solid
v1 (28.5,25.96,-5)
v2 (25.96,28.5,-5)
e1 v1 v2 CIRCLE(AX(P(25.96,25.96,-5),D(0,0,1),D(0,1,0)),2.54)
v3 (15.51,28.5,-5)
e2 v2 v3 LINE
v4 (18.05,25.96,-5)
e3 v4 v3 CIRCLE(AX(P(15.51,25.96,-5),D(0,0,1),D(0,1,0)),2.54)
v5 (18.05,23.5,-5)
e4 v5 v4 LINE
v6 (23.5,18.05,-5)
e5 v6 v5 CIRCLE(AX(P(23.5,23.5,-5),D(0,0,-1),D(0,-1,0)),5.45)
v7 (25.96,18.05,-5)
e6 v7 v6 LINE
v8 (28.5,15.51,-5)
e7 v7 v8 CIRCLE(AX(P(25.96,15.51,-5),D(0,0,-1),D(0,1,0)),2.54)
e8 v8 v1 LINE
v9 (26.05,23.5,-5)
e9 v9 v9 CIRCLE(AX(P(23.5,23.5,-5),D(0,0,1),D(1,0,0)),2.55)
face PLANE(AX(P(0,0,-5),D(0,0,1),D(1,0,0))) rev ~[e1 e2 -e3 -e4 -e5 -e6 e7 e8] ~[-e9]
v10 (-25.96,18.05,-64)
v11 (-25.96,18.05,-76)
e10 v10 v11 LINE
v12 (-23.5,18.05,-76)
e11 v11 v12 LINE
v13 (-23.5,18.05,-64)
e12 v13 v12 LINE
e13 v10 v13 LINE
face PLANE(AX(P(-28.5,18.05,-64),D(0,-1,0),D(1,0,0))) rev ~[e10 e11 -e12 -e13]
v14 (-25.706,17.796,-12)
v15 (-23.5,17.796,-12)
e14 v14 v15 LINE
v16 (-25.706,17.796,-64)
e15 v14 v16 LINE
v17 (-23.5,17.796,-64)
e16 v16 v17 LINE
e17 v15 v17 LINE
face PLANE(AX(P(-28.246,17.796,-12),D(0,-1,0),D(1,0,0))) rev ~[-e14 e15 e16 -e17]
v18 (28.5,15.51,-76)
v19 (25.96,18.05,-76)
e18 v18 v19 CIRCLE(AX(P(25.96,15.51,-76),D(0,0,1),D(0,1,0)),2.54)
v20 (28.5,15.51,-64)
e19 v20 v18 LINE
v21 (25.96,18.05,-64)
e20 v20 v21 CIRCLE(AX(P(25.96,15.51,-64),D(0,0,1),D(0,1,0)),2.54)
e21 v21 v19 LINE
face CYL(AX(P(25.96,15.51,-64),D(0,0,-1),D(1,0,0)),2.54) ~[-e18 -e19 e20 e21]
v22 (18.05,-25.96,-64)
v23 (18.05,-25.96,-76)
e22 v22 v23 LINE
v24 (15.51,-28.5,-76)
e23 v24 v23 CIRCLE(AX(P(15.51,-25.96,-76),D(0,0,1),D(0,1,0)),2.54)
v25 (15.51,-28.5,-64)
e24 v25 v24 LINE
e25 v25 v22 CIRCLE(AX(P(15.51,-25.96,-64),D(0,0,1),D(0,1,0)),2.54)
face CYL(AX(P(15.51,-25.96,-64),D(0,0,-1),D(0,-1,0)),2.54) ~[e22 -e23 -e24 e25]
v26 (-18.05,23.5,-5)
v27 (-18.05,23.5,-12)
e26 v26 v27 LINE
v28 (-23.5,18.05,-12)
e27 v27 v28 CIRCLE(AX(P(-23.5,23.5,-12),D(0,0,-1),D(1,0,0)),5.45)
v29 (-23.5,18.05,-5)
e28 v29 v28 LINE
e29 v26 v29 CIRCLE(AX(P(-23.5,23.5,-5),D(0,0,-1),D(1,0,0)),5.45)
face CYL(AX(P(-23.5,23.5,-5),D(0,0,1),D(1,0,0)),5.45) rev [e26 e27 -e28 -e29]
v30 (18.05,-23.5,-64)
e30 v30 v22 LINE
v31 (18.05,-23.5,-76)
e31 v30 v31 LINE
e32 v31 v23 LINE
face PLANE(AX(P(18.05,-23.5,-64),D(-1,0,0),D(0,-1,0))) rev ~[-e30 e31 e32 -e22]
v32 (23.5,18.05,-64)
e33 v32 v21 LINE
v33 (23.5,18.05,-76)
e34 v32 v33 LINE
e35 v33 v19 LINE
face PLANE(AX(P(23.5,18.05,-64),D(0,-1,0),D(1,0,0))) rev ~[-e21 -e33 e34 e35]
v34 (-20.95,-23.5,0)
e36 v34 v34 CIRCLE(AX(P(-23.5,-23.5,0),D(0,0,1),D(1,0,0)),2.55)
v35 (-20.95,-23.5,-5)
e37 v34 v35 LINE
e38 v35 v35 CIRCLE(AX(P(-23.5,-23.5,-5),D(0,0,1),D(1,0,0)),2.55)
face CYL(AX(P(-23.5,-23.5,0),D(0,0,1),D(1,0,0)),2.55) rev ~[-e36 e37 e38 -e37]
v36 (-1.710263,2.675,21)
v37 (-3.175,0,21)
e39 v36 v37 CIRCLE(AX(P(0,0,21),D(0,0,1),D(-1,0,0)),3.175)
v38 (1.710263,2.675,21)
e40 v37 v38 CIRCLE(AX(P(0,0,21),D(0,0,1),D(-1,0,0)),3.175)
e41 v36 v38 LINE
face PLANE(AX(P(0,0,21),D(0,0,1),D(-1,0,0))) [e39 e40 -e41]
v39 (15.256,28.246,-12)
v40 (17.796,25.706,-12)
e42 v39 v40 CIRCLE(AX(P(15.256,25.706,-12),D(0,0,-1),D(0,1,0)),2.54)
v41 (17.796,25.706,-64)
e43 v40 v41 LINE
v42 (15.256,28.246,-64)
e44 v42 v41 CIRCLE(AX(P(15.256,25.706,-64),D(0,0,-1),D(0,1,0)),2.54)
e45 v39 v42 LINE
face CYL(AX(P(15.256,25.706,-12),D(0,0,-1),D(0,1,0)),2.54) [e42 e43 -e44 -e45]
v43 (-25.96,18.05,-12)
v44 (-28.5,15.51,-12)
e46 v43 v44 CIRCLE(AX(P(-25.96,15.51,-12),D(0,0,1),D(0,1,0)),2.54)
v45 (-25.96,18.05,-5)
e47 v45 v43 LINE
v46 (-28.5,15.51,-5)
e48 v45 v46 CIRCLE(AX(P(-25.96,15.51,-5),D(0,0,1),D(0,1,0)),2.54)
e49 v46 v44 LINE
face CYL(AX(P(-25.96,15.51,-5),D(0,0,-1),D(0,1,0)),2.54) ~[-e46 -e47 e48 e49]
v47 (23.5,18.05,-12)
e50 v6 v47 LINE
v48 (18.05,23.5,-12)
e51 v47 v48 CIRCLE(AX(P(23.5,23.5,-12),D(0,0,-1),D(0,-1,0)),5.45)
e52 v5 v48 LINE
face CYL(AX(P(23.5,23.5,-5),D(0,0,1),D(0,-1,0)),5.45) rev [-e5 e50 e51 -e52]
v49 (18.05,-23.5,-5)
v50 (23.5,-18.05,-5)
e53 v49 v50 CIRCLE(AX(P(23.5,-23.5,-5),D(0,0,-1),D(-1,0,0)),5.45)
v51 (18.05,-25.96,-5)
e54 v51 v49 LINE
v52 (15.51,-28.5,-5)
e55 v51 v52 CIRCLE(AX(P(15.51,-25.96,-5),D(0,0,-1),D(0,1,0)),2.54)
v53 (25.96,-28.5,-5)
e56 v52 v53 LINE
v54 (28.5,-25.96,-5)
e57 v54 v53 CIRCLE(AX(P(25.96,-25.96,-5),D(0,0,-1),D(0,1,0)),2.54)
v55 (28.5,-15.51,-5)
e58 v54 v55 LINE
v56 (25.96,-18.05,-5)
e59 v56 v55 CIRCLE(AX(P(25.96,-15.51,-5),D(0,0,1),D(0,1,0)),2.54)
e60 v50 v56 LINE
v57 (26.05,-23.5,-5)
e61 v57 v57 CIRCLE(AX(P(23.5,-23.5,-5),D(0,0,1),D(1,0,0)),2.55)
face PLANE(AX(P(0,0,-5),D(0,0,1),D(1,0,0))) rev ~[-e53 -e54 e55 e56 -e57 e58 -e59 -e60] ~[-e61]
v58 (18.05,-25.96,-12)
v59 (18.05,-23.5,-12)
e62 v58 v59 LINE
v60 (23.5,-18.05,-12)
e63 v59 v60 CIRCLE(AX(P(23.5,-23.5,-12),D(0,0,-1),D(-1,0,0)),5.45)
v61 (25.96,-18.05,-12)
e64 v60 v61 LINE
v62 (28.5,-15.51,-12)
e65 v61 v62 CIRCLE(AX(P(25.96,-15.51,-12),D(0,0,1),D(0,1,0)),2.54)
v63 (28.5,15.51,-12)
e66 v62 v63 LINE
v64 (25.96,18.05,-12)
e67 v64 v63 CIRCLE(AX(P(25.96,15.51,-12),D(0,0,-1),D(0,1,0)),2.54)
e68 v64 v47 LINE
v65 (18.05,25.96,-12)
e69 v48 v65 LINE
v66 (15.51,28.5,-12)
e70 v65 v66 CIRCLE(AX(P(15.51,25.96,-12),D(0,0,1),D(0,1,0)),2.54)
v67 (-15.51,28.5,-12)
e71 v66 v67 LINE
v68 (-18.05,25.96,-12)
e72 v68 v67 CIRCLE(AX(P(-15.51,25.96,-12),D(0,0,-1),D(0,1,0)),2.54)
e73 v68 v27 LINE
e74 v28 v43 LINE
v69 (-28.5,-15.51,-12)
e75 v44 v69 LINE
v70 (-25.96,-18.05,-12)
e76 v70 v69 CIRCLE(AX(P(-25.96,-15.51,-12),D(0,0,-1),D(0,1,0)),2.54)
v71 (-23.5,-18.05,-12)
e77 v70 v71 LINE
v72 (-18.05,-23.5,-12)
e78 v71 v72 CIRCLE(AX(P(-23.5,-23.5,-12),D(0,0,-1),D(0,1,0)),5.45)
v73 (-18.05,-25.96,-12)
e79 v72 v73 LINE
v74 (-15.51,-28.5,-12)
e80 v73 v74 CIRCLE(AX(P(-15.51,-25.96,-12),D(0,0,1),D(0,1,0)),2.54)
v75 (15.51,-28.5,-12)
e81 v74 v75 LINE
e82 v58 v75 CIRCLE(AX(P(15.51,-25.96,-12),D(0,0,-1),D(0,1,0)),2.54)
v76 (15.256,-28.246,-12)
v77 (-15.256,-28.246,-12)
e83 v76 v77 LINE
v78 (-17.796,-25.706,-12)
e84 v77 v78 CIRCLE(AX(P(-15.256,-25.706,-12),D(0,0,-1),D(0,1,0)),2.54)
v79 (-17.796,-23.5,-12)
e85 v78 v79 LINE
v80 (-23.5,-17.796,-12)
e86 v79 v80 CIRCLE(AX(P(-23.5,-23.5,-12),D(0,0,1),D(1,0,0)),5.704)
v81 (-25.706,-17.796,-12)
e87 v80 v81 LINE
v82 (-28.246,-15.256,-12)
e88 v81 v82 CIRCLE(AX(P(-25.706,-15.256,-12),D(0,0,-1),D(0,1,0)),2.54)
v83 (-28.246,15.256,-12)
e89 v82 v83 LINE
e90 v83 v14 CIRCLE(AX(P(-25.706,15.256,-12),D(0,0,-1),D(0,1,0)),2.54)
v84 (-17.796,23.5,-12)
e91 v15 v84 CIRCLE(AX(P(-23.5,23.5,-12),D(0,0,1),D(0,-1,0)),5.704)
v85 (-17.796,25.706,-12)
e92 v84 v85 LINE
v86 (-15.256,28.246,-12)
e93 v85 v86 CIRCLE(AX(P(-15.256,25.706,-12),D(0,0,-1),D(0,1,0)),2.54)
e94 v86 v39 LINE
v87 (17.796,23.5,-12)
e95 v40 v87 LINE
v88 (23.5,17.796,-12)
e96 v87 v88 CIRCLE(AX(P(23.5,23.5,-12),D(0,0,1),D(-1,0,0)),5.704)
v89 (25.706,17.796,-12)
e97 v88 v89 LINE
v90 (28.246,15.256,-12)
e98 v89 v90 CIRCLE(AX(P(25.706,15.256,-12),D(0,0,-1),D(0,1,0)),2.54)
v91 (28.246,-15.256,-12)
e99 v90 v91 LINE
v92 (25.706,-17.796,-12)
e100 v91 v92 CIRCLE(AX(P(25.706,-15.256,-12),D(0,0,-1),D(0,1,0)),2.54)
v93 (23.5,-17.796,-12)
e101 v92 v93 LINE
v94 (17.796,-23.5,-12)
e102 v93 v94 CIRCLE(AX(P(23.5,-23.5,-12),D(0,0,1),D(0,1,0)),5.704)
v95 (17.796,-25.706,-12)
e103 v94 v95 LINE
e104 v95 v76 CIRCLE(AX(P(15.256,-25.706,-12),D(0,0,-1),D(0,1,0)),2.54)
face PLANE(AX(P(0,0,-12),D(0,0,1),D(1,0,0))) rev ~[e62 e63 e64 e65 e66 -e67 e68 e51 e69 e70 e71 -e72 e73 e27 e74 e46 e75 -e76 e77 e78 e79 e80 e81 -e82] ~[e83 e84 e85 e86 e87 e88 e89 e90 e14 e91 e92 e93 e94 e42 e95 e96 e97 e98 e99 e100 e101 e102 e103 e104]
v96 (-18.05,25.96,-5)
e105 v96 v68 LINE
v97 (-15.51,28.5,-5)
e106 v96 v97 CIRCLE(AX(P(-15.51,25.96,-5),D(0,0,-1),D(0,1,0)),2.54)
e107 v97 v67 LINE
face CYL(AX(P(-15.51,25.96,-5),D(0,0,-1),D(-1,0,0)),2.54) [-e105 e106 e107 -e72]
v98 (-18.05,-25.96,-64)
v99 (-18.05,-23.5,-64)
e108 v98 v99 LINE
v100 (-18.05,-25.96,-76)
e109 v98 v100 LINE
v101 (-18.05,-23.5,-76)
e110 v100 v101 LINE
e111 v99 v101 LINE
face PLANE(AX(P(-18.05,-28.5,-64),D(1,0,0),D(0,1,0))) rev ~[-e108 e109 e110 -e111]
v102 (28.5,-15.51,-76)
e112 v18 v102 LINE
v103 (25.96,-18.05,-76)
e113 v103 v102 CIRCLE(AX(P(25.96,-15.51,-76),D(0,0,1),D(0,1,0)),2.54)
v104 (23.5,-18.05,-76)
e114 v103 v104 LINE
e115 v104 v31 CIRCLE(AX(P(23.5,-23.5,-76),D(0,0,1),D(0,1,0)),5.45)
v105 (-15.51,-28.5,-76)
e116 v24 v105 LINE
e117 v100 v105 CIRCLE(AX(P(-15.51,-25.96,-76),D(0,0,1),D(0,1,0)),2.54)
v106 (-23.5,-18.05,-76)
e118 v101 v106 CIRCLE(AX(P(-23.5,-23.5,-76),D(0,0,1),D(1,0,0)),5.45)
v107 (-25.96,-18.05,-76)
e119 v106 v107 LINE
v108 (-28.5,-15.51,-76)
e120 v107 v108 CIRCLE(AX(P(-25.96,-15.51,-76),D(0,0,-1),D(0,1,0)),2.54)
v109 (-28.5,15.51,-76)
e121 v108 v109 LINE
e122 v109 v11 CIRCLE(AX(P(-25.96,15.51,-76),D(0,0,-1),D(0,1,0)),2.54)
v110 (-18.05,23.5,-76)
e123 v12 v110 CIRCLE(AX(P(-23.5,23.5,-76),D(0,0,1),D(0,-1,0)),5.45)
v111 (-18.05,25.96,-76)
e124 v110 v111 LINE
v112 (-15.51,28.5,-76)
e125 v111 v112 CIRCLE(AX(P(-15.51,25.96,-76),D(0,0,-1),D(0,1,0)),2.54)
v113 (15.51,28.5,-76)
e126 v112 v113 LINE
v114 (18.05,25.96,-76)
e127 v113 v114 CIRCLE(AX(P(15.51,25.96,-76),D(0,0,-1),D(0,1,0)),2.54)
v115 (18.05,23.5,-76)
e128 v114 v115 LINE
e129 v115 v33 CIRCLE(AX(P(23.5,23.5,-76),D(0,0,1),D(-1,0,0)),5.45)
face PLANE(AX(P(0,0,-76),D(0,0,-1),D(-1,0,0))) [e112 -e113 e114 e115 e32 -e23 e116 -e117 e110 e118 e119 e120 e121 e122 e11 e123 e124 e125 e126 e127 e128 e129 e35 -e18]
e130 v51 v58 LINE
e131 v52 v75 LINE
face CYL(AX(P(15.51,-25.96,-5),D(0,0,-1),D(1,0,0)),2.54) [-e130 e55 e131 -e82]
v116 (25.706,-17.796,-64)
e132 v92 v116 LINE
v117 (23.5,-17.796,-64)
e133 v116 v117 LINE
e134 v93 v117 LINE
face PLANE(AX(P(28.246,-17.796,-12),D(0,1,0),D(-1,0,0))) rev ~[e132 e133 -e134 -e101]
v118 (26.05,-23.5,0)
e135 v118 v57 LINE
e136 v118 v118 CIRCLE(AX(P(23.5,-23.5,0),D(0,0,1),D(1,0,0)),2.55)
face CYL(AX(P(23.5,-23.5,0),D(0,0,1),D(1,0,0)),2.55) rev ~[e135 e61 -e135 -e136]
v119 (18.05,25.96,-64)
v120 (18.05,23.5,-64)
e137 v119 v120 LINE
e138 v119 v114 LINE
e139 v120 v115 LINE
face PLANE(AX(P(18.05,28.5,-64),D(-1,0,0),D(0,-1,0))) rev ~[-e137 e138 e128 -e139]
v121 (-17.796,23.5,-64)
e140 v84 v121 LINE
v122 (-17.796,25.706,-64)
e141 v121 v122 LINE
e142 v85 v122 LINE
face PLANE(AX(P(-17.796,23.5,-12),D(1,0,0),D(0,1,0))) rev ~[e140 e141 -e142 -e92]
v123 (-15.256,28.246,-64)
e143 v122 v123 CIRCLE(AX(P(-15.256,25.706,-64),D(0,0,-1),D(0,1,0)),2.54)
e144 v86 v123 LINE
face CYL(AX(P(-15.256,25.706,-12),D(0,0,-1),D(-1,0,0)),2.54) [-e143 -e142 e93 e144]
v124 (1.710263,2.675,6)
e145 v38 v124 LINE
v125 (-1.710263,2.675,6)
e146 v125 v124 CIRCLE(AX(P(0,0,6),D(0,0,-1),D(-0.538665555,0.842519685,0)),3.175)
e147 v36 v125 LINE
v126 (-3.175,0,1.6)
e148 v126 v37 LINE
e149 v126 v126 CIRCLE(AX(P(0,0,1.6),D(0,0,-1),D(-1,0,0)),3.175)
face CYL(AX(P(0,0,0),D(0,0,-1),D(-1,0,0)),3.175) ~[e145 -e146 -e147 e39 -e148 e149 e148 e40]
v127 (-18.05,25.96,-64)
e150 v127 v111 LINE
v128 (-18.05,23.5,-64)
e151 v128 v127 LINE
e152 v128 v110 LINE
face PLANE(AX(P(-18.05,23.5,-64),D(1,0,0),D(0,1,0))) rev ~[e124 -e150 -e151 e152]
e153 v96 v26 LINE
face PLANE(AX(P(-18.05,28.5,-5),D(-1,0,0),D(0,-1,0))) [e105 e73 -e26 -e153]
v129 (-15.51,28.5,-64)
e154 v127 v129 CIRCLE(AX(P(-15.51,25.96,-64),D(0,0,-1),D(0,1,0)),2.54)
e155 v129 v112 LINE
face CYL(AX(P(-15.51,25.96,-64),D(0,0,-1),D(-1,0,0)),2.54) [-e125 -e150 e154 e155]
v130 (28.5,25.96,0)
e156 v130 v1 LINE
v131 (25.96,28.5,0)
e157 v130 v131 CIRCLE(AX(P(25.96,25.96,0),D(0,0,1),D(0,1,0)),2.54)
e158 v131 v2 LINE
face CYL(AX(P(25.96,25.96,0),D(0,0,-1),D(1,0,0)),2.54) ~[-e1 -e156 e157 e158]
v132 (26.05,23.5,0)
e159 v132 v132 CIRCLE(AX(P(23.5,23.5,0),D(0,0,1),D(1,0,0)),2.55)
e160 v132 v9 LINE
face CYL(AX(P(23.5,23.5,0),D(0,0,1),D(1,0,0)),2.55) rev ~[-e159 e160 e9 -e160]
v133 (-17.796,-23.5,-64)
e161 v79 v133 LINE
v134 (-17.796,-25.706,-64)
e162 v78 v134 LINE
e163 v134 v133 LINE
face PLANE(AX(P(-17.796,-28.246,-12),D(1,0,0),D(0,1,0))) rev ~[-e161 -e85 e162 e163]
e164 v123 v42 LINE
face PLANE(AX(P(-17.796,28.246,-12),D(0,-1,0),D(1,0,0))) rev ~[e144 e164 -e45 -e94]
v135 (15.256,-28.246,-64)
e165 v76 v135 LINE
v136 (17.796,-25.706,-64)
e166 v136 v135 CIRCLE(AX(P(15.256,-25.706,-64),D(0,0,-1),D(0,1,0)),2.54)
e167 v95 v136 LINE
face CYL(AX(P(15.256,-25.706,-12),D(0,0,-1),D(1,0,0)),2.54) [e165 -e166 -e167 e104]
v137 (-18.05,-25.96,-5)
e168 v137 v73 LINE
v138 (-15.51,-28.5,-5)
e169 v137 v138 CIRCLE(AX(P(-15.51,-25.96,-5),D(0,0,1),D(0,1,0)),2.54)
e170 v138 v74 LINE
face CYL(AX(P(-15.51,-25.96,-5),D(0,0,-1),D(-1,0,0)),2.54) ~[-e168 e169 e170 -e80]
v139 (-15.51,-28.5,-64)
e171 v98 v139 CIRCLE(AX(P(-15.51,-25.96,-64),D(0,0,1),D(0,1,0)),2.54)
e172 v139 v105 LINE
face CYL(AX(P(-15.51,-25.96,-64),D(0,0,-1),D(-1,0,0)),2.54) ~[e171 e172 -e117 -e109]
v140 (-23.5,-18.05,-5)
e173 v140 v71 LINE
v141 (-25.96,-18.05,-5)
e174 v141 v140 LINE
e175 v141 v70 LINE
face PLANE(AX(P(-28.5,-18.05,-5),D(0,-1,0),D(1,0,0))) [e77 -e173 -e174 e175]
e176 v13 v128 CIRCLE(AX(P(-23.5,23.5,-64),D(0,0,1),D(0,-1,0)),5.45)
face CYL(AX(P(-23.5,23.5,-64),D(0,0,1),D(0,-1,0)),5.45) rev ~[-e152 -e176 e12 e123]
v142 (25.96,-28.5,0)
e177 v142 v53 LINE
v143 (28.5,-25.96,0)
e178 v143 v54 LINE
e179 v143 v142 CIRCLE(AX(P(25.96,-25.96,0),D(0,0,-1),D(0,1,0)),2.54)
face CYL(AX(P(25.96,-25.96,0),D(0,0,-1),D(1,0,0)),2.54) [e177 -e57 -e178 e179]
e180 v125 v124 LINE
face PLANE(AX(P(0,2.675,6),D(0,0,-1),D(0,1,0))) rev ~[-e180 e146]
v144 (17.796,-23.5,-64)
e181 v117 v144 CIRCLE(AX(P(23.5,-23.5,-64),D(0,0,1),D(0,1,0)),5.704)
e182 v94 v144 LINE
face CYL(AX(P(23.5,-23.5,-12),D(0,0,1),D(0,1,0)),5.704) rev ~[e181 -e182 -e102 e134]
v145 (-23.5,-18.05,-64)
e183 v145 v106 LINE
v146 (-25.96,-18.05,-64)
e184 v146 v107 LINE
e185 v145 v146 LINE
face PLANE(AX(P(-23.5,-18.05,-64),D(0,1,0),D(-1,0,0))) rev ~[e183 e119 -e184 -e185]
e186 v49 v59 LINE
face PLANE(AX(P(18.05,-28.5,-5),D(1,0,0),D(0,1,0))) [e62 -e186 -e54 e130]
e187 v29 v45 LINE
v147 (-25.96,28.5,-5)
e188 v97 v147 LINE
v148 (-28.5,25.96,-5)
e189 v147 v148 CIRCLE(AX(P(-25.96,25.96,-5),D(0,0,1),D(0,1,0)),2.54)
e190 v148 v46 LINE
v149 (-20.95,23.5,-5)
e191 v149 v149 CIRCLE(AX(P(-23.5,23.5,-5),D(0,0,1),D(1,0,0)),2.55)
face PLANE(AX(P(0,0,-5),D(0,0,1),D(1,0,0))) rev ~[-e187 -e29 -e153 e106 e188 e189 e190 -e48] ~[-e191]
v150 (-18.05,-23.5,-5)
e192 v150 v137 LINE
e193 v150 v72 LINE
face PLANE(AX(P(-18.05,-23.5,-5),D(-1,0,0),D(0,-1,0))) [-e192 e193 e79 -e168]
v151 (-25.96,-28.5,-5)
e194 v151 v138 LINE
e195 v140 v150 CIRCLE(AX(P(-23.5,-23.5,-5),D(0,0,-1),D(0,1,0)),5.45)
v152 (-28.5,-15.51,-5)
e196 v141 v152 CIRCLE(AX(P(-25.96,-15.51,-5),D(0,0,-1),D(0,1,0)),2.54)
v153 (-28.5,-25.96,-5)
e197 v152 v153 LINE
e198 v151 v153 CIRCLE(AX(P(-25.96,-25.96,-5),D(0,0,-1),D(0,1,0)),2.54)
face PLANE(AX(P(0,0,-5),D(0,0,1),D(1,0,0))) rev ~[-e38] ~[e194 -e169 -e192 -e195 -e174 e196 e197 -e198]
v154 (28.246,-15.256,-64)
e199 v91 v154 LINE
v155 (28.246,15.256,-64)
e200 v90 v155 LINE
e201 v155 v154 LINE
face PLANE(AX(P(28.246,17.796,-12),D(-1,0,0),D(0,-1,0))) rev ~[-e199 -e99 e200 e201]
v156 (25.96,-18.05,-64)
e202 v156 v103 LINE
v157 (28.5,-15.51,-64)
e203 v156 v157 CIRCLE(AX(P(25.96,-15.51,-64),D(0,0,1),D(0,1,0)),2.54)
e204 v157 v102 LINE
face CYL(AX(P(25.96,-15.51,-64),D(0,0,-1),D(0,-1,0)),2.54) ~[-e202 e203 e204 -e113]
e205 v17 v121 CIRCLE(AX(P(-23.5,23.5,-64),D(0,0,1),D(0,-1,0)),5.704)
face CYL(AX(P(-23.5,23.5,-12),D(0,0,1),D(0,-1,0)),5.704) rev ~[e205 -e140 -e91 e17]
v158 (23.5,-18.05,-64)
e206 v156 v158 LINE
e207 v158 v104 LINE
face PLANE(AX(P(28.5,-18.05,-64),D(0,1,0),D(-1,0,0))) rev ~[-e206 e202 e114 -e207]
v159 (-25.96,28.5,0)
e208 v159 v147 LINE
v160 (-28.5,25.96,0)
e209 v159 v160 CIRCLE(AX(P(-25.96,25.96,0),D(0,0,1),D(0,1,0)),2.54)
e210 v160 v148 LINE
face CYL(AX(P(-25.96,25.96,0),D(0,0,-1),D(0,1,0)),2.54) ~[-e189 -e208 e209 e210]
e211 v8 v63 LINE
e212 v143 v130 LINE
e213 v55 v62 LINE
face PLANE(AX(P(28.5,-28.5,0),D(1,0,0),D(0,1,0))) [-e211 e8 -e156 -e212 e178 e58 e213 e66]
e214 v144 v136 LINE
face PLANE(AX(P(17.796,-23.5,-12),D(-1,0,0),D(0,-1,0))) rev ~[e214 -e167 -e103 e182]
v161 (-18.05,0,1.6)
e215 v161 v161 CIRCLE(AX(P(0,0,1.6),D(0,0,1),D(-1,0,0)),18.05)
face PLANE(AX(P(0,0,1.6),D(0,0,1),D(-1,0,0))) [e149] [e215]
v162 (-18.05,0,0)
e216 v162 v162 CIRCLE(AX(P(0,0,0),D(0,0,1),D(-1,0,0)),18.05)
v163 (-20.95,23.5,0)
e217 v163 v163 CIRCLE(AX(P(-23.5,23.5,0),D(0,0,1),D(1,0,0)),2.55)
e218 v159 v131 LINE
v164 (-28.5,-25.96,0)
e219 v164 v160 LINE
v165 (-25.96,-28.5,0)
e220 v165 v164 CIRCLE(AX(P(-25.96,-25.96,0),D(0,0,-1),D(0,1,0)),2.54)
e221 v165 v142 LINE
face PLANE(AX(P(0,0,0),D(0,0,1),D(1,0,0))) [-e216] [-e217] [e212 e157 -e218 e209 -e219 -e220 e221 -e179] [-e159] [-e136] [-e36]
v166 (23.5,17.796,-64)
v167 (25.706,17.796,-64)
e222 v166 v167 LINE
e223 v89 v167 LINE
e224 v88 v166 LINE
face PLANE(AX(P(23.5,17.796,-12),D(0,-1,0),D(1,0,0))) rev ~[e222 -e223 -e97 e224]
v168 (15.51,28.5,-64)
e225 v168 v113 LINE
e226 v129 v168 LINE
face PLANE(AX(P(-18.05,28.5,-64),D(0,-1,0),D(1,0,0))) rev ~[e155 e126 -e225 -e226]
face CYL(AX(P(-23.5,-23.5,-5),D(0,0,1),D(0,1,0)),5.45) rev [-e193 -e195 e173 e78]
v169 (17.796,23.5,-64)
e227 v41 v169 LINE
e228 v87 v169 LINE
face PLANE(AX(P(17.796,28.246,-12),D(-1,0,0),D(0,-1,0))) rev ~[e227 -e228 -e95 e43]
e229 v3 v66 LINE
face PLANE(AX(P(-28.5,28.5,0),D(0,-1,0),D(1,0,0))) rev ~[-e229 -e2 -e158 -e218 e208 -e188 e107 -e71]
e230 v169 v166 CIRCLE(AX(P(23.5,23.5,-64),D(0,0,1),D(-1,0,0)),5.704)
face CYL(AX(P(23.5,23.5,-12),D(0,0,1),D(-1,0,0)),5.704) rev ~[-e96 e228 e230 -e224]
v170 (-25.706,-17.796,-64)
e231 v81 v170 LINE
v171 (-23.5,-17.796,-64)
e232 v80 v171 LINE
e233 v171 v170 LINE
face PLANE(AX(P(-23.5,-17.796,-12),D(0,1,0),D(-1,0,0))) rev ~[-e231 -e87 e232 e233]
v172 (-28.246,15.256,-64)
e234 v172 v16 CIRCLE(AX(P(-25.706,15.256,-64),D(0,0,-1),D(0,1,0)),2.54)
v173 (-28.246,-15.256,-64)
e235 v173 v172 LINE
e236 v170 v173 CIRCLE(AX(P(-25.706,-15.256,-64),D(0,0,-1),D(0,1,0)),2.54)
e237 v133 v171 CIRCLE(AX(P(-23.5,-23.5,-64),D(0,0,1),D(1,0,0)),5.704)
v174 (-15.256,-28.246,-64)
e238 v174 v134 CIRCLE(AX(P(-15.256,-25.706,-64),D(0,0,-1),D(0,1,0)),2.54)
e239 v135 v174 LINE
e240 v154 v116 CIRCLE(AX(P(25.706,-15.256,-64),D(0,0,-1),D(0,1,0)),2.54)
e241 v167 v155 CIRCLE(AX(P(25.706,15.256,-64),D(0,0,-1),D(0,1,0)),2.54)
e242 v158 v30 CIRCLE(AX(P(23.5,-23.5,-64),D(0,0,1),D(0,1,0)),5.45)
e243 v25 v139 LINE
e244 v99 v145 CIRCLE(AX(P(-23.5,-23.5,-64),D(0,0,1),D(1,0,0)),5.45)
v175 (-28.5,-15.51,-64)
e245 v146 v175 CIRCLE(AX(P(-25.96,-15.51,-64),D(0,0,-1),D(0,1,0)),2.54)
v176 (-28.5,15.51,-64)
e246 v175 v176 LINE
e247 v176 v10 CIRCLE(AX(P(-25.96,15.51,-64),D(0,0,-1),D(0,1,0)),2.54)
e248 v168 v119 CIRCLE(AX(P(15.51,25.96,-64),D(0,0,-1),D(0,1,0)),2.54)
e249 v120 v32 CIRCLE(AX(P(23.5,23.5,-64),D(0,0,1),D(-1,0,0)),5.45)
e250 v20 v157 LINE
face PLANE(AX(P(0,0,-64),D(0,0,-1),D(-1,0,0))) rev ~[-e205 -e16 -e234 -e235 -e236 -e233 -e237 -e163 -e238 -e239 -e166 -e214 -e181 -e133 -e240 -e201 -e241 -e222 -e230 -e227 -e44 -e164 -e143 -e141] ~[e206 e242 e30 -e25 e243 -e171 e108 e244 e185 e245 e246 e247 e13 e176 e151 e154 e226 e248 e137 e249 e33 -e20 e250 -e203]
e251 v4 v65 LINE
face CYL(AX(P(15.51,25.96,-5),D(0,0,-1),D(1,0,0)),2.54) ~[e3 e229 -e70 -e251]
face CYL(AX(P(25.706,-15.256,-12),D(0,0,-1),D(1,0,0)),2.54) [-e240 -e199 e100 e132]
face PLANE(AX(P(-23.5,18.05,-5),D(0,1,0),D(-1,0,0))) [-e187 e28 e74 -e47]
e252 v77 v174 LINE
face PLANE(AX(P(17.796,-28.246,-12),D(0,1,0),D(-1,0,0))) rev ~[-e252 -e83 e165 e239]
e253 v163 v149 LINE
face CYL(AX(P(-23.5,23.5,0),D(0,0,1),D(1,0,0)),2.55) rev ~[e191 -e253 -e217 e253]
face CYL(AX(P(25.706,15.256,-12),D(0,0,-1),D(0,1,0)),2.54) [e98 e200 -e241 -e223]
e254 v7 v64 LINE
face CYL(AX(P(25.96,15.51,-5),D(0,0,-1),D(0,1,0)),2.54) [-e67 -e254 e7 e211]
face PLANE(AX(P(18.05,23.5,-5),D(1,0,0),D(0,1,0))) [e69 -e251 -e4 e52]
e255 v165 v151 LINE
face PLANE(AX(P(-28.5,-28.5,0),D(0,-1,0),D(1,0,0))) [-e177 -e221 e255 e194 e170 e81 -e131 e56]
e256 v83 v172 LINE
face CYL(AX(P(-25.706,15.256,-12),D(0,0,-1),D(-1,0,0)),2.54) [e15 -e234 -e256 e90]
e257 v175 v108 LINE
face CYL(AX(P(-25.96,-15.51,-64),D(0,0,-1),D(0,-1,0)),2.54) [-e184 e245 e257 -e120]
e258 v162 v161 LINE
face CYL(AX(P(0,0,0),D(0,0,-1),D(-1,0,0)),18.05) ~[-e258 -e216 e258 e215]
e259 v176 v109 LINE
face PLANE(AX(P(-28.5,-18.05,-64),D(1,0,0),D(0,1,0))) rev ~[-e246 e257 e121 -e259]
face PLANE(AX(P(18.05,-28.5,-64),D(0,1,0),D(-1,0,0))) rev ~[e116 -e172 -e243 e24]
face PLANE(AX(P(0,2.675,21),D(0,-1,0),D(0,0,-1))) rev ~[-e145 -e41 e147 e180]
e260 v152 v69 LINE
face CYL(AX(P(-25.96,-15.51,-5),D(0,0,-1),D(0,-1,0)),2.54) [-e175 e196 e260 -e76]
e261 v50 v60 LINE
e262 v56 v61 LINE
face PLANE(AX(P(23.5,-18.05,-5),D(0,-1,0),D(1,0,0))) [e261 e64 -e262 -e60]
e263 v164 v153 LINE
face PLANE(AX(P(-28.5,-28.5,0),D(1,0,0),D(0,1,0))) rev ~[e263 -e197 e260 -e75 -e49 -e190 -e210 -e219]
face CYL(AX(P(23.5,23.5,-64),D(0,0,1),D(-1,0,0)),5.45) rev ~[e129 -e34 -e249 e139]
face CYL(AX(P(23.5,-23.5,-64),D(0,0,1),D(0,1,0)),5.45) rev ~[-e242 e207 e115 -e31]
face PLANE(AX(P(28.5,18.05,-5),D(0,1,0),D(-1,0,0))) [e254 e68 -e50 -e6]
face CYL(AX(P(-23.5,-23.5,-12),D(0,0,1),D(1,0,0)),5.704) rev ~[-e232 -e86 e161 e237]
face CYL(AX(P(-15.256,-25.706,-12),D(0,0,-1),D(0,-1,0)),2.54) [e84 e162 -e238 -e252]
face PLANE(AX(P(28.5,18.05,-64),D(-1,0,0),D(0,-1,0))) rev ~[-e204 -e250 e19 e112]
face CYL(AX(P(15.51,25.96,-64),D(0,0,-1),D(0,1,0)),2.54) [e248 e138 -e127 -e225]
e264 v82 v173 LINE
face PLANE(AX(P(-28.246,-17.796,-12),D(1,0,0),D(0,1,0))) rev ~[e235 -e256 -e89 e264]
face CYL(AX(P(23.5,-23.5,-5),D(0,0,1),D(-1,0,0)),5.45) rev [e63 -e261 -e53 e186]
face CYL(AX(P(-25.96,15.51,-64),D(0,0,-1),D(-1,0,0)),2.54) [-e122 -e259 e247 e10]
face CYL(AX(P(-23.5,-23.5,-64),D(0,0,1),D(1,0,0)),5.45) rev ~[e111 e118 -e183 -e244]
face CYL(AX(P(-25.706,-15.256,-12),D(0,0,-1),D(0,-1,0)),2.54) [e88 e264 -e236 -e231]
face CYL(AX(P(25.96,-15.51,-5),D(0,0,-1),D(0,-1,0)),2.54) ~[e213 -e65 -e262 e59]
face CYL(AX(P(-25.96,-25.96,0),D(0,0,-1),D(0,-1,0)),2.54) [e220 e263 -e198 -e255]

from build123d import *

# Parameters (mm, degrees)
SKETCH1_W           = 57
SKETCH1_H           = 57
SKETCH1_R           = 2.55
BOSS_EXTRUDE1_DEPTH = 5
BOSS_EXTRUDE2_DEPTH = 7
BOSS_EXTRUDE5_DEPTH = 52
BOSS_EXTRUDE6_DEPTH = 12
SKETCH7_R           = 18.05
BOSS_EXTRUDE7_DEPTH = 1.6
SKETCH8_R           = 3.175
BOSS_EXTRUDE8_DEPTH = 21
SKETCH9_W           = 15
SKETCH9_H           = 0.5
CUT_EXTRUDE1_DEPTH  = 3.5
FILLET1_R           = 2.54


with BuildPart() as part:
    # Sketch1 → Boss-Extrude1 (new body)
    with BuildSketch(Plane.XY):
        Rectangle(SKETCH1_W, SKETCH1_H)
        with Locations((-23.5, 23.5)):
            Circle(SKETCH1_R, mode=Mode.SUBTRACT)
        with Locations((23.5, 23.5)):
            Circle(SKETCH1_R, mode=Mode.SUBTRACT)
        with Locations((23.5, -23.5)):
            Circle(SKETCH1_R, mode=Mode.SUBTRACT)
        with Locations((-23.5, -23.5)):
            Circle(SKETCH1_R, mode=Mode.SUBTRACT)
    extrude(amount=-BOSS_EXTRUDE1_DEPTH)

    # Sketch2 → Boss-Extrude2 (add)
    with BuildSketch(Plane(origin=(0, 0, -5), x_dir=(-1, 0, 0), z_dir=(0, 0, -1))):
        with BuildLine():
            Line((-18.05, 23.5), (-18.05, 28.5))
            Line((-18.05, 28.5), (18.05, 28.5))
            Line((18.05, 28.5), (18.05, 23.5))
            ThreePointArc((18.05, 23.5), (19.646268043, 19.646268043), (23.5, 18.05))
            Line((23.5, 18.05), (28.5, 18.05))
            Line((28.5, 18.05), (28.5, -18.05))
            Line((28.5, -18.05), (23.5, -18.05))
            ThreePointArc((23.5, -18.05), (19.646268043, -19.646268043), (18.05, -23.5))
            Line((18.05, -23.5), (18.05, -28.5))
            Line((18.05, -28.5), (-18.05, -28.5))
            Line((-18.05, -28.5), (-18.05, -23.5))
            ThreePointArc((-18.05, -23.5), (-19.646268043, -19.646268043), (-23.5, -18.05))
            Line((-23.5, -18.05), (-28.5, -18.05))
            Line((-28.5, -18.05), (-28.5, 18.05))
            Line((-28.5, 18.05), (-23.5, 18.05))
            ThreePointArc((-23.5, 18.05), (-19.646268043, 19.646268043), (-18.05, 23.5))
        make_face()
    extrude(amount=BOSS_EXTRUDE2_DEPTH)

    # Sketch5 → Boss-Extrude5 (add)
    with BuildSketch(Plane(origin=(0, 0, -12), x_dir=(-1, 0, 0), z_dir=(0, 0, -1))):
        with BuildLine():
            Line((-23.5, 17.796), (-28.246, 17.796))
            Line((-28.246, 17.796), (-28.246, -17.796))
            Line((-28.246, -17.796), (-23.5, -17.796))
            ThreePointArc((-23.5, -17.796), (-19.46666292, -19.46666292), (-17.796, -23.5))
            Line((-17.796, -23.5), (-17.796, -28.246))
            Line((-17.796, -28.246), (17.796, -28.246))
            Line((17.796, -28.246), (17.796, -23.5))
            ThreePointArc((17.796, -23.5), (19.46666292, -19.46666292), (23.5, -17.796))
            Line((23.5, -17.796), (28.246, -17.796))
            Line((28.246, -17.796), (28.246, 17.796))
            Line((28.246, 17.796), (23.5, 17.796))
            ThreePointArc((23.5, 17.796), (19.46666292, 19.46666292), (17.796, 23.5))
            Line((17.796, 23.5), (17.796, 28.246))
            Line((17.796, 28.246), (-17.796, 28.246))
            Line((-17.796, 28.246), (-17.796, 23.5))
            ThreePointArc((-17.796, 23.5), (-19.46666292, 19.46666292), (-23.5, 17.796))
        make_face()
    extrude(amount=BOSS_EXTRUDE5_DEPTH)

    # Sketch6 → Boss-Extrude6 (add)
    with BuildSketch(Plane(origin=(0, 0, -64), x_dir=(-1, 0, 0), z_dir=(0, 0, -1))):
        with BuildLine():
            Line((-23.5, 18.05), (-28.5, 18.05))
            Line((-28.5, 18.05), (-28.5, -18.05))
            Line((-28.5, -18.05), (-23.5, -18.05))
            ThreePointArc((-23.5, -18.05), (-19.646268043, -19.646268043), (-18.05, -23.5))
            Line((-18.05, -23.5), (-18.05, -28.5))
            Line((-18.05, -28.5), (18.05, -28.5))
            Line((18.05, -28.5), (18.05, -23.5))
            ThreePointArc((18.05, -23.5), (19.646268043, -19.646268043), (23.5, -18.05))
            Line((23.5, -18.05), (28.5, -18.05))
            Line((28.5, -18.05), (28.5, 18.05))
            Line((28.5, 18.05), (23.5, 18.05))
            ThreePointArc((23.5, 18.05), (19.646268043, 19.646268043), (18.05, 23.5))
            Line((18.05, 23.5), (18.05, 28.5))
            Line((18.05, 28.5), (-18.05, 28.5))
            Line((-18.05, 28.5), (-18.05, 23.5))
            ThreePointArc((-18.05, 23.5), (-19.646268043, 19.646268043), (-23.5, 18.05))
        make_face()
    extrude(amount=BOSS_EXTRUDE6_DEPTH)

    # Sketch7 → Boss-Extrude7 (add)
    with BuildSketch(Plane.XY):
        with Locations(Location((0, 0, 0), (0, 0, 180))):
            Circle(SKETCH7_R)
    extrude(amount=BOSS_EXTRUDE7_DEPTH)

    # Sketch8 → Boss-Extrude8 (add)
    with BuildSketch(Plane.XY):
        with Locations(Location((0, 0, 0), (0, 0, 180))):
            Circle(SKETCH8_R)
    extrude(amount=BOSS_EXTRUDE8_DEPTH)

    # Sketch9 → Cut-Extrude1 (cut, symmetric)
    with BuildSketch(Plane(origin=(0, 0, 0), x_dir=(0, 0, -1), z_dir=(1, 0, 0))):
        with Locations((-13.5, 2.925)):
            Rectangle(SKETCH9_W, SKETCH9_H)
    extrude(amount=CUT_EXTRUDE1_DEPTH, both=True, mode=Mode.SUBTRACT)

    # Fillet1
    fillet1_edges = [part.edges().sort_by_distance(p)[0] for p in [
        (28.5, 18.05, -70),
        (28.5, -18.05, -70),
        (18.05, -28.5, -70),
        (-18.05, -28.5, -70),
        (-28.5, -18.05, -70),
        (-28.5, 18.05, -70),
        (-18.05, 28.5, -70),
        (18.05, 28.5, -70),
        (28.5, 18.05, -8.5),
        (28.5, -18.05, -8.5),
        (18.05, -28.5, -8.5),
        (-18.05, -28.5, -8.5),
        (-28.5, -18.05, -8.5),
        (-28.5, 18.05, -8.5),
        (-18.05, 28.5, -8.5),
        (18.05, 28.5, -8.5),
        (28.5, -28.5, -2.5),
        (-28.5, -28.5, -2.5),
        (-28.5, 28.5, -2.5),
        (28.5, 28.5, -2.5),
        (28.246, 17.796, -38),
        (28.246, -17.796, -38),
        (17.796, -28.246, -38),
        (-17.796, -28.246, -38),
        (-28.246, -17.796, -38),
        (-28.246, 17.796, -38),
        (-17.796, 28.246, -38),
        (17.796, 28.246, -38),
    ]]
    fillet(fillet1_edges, radius=FILLET1_R)


solid = part.part
